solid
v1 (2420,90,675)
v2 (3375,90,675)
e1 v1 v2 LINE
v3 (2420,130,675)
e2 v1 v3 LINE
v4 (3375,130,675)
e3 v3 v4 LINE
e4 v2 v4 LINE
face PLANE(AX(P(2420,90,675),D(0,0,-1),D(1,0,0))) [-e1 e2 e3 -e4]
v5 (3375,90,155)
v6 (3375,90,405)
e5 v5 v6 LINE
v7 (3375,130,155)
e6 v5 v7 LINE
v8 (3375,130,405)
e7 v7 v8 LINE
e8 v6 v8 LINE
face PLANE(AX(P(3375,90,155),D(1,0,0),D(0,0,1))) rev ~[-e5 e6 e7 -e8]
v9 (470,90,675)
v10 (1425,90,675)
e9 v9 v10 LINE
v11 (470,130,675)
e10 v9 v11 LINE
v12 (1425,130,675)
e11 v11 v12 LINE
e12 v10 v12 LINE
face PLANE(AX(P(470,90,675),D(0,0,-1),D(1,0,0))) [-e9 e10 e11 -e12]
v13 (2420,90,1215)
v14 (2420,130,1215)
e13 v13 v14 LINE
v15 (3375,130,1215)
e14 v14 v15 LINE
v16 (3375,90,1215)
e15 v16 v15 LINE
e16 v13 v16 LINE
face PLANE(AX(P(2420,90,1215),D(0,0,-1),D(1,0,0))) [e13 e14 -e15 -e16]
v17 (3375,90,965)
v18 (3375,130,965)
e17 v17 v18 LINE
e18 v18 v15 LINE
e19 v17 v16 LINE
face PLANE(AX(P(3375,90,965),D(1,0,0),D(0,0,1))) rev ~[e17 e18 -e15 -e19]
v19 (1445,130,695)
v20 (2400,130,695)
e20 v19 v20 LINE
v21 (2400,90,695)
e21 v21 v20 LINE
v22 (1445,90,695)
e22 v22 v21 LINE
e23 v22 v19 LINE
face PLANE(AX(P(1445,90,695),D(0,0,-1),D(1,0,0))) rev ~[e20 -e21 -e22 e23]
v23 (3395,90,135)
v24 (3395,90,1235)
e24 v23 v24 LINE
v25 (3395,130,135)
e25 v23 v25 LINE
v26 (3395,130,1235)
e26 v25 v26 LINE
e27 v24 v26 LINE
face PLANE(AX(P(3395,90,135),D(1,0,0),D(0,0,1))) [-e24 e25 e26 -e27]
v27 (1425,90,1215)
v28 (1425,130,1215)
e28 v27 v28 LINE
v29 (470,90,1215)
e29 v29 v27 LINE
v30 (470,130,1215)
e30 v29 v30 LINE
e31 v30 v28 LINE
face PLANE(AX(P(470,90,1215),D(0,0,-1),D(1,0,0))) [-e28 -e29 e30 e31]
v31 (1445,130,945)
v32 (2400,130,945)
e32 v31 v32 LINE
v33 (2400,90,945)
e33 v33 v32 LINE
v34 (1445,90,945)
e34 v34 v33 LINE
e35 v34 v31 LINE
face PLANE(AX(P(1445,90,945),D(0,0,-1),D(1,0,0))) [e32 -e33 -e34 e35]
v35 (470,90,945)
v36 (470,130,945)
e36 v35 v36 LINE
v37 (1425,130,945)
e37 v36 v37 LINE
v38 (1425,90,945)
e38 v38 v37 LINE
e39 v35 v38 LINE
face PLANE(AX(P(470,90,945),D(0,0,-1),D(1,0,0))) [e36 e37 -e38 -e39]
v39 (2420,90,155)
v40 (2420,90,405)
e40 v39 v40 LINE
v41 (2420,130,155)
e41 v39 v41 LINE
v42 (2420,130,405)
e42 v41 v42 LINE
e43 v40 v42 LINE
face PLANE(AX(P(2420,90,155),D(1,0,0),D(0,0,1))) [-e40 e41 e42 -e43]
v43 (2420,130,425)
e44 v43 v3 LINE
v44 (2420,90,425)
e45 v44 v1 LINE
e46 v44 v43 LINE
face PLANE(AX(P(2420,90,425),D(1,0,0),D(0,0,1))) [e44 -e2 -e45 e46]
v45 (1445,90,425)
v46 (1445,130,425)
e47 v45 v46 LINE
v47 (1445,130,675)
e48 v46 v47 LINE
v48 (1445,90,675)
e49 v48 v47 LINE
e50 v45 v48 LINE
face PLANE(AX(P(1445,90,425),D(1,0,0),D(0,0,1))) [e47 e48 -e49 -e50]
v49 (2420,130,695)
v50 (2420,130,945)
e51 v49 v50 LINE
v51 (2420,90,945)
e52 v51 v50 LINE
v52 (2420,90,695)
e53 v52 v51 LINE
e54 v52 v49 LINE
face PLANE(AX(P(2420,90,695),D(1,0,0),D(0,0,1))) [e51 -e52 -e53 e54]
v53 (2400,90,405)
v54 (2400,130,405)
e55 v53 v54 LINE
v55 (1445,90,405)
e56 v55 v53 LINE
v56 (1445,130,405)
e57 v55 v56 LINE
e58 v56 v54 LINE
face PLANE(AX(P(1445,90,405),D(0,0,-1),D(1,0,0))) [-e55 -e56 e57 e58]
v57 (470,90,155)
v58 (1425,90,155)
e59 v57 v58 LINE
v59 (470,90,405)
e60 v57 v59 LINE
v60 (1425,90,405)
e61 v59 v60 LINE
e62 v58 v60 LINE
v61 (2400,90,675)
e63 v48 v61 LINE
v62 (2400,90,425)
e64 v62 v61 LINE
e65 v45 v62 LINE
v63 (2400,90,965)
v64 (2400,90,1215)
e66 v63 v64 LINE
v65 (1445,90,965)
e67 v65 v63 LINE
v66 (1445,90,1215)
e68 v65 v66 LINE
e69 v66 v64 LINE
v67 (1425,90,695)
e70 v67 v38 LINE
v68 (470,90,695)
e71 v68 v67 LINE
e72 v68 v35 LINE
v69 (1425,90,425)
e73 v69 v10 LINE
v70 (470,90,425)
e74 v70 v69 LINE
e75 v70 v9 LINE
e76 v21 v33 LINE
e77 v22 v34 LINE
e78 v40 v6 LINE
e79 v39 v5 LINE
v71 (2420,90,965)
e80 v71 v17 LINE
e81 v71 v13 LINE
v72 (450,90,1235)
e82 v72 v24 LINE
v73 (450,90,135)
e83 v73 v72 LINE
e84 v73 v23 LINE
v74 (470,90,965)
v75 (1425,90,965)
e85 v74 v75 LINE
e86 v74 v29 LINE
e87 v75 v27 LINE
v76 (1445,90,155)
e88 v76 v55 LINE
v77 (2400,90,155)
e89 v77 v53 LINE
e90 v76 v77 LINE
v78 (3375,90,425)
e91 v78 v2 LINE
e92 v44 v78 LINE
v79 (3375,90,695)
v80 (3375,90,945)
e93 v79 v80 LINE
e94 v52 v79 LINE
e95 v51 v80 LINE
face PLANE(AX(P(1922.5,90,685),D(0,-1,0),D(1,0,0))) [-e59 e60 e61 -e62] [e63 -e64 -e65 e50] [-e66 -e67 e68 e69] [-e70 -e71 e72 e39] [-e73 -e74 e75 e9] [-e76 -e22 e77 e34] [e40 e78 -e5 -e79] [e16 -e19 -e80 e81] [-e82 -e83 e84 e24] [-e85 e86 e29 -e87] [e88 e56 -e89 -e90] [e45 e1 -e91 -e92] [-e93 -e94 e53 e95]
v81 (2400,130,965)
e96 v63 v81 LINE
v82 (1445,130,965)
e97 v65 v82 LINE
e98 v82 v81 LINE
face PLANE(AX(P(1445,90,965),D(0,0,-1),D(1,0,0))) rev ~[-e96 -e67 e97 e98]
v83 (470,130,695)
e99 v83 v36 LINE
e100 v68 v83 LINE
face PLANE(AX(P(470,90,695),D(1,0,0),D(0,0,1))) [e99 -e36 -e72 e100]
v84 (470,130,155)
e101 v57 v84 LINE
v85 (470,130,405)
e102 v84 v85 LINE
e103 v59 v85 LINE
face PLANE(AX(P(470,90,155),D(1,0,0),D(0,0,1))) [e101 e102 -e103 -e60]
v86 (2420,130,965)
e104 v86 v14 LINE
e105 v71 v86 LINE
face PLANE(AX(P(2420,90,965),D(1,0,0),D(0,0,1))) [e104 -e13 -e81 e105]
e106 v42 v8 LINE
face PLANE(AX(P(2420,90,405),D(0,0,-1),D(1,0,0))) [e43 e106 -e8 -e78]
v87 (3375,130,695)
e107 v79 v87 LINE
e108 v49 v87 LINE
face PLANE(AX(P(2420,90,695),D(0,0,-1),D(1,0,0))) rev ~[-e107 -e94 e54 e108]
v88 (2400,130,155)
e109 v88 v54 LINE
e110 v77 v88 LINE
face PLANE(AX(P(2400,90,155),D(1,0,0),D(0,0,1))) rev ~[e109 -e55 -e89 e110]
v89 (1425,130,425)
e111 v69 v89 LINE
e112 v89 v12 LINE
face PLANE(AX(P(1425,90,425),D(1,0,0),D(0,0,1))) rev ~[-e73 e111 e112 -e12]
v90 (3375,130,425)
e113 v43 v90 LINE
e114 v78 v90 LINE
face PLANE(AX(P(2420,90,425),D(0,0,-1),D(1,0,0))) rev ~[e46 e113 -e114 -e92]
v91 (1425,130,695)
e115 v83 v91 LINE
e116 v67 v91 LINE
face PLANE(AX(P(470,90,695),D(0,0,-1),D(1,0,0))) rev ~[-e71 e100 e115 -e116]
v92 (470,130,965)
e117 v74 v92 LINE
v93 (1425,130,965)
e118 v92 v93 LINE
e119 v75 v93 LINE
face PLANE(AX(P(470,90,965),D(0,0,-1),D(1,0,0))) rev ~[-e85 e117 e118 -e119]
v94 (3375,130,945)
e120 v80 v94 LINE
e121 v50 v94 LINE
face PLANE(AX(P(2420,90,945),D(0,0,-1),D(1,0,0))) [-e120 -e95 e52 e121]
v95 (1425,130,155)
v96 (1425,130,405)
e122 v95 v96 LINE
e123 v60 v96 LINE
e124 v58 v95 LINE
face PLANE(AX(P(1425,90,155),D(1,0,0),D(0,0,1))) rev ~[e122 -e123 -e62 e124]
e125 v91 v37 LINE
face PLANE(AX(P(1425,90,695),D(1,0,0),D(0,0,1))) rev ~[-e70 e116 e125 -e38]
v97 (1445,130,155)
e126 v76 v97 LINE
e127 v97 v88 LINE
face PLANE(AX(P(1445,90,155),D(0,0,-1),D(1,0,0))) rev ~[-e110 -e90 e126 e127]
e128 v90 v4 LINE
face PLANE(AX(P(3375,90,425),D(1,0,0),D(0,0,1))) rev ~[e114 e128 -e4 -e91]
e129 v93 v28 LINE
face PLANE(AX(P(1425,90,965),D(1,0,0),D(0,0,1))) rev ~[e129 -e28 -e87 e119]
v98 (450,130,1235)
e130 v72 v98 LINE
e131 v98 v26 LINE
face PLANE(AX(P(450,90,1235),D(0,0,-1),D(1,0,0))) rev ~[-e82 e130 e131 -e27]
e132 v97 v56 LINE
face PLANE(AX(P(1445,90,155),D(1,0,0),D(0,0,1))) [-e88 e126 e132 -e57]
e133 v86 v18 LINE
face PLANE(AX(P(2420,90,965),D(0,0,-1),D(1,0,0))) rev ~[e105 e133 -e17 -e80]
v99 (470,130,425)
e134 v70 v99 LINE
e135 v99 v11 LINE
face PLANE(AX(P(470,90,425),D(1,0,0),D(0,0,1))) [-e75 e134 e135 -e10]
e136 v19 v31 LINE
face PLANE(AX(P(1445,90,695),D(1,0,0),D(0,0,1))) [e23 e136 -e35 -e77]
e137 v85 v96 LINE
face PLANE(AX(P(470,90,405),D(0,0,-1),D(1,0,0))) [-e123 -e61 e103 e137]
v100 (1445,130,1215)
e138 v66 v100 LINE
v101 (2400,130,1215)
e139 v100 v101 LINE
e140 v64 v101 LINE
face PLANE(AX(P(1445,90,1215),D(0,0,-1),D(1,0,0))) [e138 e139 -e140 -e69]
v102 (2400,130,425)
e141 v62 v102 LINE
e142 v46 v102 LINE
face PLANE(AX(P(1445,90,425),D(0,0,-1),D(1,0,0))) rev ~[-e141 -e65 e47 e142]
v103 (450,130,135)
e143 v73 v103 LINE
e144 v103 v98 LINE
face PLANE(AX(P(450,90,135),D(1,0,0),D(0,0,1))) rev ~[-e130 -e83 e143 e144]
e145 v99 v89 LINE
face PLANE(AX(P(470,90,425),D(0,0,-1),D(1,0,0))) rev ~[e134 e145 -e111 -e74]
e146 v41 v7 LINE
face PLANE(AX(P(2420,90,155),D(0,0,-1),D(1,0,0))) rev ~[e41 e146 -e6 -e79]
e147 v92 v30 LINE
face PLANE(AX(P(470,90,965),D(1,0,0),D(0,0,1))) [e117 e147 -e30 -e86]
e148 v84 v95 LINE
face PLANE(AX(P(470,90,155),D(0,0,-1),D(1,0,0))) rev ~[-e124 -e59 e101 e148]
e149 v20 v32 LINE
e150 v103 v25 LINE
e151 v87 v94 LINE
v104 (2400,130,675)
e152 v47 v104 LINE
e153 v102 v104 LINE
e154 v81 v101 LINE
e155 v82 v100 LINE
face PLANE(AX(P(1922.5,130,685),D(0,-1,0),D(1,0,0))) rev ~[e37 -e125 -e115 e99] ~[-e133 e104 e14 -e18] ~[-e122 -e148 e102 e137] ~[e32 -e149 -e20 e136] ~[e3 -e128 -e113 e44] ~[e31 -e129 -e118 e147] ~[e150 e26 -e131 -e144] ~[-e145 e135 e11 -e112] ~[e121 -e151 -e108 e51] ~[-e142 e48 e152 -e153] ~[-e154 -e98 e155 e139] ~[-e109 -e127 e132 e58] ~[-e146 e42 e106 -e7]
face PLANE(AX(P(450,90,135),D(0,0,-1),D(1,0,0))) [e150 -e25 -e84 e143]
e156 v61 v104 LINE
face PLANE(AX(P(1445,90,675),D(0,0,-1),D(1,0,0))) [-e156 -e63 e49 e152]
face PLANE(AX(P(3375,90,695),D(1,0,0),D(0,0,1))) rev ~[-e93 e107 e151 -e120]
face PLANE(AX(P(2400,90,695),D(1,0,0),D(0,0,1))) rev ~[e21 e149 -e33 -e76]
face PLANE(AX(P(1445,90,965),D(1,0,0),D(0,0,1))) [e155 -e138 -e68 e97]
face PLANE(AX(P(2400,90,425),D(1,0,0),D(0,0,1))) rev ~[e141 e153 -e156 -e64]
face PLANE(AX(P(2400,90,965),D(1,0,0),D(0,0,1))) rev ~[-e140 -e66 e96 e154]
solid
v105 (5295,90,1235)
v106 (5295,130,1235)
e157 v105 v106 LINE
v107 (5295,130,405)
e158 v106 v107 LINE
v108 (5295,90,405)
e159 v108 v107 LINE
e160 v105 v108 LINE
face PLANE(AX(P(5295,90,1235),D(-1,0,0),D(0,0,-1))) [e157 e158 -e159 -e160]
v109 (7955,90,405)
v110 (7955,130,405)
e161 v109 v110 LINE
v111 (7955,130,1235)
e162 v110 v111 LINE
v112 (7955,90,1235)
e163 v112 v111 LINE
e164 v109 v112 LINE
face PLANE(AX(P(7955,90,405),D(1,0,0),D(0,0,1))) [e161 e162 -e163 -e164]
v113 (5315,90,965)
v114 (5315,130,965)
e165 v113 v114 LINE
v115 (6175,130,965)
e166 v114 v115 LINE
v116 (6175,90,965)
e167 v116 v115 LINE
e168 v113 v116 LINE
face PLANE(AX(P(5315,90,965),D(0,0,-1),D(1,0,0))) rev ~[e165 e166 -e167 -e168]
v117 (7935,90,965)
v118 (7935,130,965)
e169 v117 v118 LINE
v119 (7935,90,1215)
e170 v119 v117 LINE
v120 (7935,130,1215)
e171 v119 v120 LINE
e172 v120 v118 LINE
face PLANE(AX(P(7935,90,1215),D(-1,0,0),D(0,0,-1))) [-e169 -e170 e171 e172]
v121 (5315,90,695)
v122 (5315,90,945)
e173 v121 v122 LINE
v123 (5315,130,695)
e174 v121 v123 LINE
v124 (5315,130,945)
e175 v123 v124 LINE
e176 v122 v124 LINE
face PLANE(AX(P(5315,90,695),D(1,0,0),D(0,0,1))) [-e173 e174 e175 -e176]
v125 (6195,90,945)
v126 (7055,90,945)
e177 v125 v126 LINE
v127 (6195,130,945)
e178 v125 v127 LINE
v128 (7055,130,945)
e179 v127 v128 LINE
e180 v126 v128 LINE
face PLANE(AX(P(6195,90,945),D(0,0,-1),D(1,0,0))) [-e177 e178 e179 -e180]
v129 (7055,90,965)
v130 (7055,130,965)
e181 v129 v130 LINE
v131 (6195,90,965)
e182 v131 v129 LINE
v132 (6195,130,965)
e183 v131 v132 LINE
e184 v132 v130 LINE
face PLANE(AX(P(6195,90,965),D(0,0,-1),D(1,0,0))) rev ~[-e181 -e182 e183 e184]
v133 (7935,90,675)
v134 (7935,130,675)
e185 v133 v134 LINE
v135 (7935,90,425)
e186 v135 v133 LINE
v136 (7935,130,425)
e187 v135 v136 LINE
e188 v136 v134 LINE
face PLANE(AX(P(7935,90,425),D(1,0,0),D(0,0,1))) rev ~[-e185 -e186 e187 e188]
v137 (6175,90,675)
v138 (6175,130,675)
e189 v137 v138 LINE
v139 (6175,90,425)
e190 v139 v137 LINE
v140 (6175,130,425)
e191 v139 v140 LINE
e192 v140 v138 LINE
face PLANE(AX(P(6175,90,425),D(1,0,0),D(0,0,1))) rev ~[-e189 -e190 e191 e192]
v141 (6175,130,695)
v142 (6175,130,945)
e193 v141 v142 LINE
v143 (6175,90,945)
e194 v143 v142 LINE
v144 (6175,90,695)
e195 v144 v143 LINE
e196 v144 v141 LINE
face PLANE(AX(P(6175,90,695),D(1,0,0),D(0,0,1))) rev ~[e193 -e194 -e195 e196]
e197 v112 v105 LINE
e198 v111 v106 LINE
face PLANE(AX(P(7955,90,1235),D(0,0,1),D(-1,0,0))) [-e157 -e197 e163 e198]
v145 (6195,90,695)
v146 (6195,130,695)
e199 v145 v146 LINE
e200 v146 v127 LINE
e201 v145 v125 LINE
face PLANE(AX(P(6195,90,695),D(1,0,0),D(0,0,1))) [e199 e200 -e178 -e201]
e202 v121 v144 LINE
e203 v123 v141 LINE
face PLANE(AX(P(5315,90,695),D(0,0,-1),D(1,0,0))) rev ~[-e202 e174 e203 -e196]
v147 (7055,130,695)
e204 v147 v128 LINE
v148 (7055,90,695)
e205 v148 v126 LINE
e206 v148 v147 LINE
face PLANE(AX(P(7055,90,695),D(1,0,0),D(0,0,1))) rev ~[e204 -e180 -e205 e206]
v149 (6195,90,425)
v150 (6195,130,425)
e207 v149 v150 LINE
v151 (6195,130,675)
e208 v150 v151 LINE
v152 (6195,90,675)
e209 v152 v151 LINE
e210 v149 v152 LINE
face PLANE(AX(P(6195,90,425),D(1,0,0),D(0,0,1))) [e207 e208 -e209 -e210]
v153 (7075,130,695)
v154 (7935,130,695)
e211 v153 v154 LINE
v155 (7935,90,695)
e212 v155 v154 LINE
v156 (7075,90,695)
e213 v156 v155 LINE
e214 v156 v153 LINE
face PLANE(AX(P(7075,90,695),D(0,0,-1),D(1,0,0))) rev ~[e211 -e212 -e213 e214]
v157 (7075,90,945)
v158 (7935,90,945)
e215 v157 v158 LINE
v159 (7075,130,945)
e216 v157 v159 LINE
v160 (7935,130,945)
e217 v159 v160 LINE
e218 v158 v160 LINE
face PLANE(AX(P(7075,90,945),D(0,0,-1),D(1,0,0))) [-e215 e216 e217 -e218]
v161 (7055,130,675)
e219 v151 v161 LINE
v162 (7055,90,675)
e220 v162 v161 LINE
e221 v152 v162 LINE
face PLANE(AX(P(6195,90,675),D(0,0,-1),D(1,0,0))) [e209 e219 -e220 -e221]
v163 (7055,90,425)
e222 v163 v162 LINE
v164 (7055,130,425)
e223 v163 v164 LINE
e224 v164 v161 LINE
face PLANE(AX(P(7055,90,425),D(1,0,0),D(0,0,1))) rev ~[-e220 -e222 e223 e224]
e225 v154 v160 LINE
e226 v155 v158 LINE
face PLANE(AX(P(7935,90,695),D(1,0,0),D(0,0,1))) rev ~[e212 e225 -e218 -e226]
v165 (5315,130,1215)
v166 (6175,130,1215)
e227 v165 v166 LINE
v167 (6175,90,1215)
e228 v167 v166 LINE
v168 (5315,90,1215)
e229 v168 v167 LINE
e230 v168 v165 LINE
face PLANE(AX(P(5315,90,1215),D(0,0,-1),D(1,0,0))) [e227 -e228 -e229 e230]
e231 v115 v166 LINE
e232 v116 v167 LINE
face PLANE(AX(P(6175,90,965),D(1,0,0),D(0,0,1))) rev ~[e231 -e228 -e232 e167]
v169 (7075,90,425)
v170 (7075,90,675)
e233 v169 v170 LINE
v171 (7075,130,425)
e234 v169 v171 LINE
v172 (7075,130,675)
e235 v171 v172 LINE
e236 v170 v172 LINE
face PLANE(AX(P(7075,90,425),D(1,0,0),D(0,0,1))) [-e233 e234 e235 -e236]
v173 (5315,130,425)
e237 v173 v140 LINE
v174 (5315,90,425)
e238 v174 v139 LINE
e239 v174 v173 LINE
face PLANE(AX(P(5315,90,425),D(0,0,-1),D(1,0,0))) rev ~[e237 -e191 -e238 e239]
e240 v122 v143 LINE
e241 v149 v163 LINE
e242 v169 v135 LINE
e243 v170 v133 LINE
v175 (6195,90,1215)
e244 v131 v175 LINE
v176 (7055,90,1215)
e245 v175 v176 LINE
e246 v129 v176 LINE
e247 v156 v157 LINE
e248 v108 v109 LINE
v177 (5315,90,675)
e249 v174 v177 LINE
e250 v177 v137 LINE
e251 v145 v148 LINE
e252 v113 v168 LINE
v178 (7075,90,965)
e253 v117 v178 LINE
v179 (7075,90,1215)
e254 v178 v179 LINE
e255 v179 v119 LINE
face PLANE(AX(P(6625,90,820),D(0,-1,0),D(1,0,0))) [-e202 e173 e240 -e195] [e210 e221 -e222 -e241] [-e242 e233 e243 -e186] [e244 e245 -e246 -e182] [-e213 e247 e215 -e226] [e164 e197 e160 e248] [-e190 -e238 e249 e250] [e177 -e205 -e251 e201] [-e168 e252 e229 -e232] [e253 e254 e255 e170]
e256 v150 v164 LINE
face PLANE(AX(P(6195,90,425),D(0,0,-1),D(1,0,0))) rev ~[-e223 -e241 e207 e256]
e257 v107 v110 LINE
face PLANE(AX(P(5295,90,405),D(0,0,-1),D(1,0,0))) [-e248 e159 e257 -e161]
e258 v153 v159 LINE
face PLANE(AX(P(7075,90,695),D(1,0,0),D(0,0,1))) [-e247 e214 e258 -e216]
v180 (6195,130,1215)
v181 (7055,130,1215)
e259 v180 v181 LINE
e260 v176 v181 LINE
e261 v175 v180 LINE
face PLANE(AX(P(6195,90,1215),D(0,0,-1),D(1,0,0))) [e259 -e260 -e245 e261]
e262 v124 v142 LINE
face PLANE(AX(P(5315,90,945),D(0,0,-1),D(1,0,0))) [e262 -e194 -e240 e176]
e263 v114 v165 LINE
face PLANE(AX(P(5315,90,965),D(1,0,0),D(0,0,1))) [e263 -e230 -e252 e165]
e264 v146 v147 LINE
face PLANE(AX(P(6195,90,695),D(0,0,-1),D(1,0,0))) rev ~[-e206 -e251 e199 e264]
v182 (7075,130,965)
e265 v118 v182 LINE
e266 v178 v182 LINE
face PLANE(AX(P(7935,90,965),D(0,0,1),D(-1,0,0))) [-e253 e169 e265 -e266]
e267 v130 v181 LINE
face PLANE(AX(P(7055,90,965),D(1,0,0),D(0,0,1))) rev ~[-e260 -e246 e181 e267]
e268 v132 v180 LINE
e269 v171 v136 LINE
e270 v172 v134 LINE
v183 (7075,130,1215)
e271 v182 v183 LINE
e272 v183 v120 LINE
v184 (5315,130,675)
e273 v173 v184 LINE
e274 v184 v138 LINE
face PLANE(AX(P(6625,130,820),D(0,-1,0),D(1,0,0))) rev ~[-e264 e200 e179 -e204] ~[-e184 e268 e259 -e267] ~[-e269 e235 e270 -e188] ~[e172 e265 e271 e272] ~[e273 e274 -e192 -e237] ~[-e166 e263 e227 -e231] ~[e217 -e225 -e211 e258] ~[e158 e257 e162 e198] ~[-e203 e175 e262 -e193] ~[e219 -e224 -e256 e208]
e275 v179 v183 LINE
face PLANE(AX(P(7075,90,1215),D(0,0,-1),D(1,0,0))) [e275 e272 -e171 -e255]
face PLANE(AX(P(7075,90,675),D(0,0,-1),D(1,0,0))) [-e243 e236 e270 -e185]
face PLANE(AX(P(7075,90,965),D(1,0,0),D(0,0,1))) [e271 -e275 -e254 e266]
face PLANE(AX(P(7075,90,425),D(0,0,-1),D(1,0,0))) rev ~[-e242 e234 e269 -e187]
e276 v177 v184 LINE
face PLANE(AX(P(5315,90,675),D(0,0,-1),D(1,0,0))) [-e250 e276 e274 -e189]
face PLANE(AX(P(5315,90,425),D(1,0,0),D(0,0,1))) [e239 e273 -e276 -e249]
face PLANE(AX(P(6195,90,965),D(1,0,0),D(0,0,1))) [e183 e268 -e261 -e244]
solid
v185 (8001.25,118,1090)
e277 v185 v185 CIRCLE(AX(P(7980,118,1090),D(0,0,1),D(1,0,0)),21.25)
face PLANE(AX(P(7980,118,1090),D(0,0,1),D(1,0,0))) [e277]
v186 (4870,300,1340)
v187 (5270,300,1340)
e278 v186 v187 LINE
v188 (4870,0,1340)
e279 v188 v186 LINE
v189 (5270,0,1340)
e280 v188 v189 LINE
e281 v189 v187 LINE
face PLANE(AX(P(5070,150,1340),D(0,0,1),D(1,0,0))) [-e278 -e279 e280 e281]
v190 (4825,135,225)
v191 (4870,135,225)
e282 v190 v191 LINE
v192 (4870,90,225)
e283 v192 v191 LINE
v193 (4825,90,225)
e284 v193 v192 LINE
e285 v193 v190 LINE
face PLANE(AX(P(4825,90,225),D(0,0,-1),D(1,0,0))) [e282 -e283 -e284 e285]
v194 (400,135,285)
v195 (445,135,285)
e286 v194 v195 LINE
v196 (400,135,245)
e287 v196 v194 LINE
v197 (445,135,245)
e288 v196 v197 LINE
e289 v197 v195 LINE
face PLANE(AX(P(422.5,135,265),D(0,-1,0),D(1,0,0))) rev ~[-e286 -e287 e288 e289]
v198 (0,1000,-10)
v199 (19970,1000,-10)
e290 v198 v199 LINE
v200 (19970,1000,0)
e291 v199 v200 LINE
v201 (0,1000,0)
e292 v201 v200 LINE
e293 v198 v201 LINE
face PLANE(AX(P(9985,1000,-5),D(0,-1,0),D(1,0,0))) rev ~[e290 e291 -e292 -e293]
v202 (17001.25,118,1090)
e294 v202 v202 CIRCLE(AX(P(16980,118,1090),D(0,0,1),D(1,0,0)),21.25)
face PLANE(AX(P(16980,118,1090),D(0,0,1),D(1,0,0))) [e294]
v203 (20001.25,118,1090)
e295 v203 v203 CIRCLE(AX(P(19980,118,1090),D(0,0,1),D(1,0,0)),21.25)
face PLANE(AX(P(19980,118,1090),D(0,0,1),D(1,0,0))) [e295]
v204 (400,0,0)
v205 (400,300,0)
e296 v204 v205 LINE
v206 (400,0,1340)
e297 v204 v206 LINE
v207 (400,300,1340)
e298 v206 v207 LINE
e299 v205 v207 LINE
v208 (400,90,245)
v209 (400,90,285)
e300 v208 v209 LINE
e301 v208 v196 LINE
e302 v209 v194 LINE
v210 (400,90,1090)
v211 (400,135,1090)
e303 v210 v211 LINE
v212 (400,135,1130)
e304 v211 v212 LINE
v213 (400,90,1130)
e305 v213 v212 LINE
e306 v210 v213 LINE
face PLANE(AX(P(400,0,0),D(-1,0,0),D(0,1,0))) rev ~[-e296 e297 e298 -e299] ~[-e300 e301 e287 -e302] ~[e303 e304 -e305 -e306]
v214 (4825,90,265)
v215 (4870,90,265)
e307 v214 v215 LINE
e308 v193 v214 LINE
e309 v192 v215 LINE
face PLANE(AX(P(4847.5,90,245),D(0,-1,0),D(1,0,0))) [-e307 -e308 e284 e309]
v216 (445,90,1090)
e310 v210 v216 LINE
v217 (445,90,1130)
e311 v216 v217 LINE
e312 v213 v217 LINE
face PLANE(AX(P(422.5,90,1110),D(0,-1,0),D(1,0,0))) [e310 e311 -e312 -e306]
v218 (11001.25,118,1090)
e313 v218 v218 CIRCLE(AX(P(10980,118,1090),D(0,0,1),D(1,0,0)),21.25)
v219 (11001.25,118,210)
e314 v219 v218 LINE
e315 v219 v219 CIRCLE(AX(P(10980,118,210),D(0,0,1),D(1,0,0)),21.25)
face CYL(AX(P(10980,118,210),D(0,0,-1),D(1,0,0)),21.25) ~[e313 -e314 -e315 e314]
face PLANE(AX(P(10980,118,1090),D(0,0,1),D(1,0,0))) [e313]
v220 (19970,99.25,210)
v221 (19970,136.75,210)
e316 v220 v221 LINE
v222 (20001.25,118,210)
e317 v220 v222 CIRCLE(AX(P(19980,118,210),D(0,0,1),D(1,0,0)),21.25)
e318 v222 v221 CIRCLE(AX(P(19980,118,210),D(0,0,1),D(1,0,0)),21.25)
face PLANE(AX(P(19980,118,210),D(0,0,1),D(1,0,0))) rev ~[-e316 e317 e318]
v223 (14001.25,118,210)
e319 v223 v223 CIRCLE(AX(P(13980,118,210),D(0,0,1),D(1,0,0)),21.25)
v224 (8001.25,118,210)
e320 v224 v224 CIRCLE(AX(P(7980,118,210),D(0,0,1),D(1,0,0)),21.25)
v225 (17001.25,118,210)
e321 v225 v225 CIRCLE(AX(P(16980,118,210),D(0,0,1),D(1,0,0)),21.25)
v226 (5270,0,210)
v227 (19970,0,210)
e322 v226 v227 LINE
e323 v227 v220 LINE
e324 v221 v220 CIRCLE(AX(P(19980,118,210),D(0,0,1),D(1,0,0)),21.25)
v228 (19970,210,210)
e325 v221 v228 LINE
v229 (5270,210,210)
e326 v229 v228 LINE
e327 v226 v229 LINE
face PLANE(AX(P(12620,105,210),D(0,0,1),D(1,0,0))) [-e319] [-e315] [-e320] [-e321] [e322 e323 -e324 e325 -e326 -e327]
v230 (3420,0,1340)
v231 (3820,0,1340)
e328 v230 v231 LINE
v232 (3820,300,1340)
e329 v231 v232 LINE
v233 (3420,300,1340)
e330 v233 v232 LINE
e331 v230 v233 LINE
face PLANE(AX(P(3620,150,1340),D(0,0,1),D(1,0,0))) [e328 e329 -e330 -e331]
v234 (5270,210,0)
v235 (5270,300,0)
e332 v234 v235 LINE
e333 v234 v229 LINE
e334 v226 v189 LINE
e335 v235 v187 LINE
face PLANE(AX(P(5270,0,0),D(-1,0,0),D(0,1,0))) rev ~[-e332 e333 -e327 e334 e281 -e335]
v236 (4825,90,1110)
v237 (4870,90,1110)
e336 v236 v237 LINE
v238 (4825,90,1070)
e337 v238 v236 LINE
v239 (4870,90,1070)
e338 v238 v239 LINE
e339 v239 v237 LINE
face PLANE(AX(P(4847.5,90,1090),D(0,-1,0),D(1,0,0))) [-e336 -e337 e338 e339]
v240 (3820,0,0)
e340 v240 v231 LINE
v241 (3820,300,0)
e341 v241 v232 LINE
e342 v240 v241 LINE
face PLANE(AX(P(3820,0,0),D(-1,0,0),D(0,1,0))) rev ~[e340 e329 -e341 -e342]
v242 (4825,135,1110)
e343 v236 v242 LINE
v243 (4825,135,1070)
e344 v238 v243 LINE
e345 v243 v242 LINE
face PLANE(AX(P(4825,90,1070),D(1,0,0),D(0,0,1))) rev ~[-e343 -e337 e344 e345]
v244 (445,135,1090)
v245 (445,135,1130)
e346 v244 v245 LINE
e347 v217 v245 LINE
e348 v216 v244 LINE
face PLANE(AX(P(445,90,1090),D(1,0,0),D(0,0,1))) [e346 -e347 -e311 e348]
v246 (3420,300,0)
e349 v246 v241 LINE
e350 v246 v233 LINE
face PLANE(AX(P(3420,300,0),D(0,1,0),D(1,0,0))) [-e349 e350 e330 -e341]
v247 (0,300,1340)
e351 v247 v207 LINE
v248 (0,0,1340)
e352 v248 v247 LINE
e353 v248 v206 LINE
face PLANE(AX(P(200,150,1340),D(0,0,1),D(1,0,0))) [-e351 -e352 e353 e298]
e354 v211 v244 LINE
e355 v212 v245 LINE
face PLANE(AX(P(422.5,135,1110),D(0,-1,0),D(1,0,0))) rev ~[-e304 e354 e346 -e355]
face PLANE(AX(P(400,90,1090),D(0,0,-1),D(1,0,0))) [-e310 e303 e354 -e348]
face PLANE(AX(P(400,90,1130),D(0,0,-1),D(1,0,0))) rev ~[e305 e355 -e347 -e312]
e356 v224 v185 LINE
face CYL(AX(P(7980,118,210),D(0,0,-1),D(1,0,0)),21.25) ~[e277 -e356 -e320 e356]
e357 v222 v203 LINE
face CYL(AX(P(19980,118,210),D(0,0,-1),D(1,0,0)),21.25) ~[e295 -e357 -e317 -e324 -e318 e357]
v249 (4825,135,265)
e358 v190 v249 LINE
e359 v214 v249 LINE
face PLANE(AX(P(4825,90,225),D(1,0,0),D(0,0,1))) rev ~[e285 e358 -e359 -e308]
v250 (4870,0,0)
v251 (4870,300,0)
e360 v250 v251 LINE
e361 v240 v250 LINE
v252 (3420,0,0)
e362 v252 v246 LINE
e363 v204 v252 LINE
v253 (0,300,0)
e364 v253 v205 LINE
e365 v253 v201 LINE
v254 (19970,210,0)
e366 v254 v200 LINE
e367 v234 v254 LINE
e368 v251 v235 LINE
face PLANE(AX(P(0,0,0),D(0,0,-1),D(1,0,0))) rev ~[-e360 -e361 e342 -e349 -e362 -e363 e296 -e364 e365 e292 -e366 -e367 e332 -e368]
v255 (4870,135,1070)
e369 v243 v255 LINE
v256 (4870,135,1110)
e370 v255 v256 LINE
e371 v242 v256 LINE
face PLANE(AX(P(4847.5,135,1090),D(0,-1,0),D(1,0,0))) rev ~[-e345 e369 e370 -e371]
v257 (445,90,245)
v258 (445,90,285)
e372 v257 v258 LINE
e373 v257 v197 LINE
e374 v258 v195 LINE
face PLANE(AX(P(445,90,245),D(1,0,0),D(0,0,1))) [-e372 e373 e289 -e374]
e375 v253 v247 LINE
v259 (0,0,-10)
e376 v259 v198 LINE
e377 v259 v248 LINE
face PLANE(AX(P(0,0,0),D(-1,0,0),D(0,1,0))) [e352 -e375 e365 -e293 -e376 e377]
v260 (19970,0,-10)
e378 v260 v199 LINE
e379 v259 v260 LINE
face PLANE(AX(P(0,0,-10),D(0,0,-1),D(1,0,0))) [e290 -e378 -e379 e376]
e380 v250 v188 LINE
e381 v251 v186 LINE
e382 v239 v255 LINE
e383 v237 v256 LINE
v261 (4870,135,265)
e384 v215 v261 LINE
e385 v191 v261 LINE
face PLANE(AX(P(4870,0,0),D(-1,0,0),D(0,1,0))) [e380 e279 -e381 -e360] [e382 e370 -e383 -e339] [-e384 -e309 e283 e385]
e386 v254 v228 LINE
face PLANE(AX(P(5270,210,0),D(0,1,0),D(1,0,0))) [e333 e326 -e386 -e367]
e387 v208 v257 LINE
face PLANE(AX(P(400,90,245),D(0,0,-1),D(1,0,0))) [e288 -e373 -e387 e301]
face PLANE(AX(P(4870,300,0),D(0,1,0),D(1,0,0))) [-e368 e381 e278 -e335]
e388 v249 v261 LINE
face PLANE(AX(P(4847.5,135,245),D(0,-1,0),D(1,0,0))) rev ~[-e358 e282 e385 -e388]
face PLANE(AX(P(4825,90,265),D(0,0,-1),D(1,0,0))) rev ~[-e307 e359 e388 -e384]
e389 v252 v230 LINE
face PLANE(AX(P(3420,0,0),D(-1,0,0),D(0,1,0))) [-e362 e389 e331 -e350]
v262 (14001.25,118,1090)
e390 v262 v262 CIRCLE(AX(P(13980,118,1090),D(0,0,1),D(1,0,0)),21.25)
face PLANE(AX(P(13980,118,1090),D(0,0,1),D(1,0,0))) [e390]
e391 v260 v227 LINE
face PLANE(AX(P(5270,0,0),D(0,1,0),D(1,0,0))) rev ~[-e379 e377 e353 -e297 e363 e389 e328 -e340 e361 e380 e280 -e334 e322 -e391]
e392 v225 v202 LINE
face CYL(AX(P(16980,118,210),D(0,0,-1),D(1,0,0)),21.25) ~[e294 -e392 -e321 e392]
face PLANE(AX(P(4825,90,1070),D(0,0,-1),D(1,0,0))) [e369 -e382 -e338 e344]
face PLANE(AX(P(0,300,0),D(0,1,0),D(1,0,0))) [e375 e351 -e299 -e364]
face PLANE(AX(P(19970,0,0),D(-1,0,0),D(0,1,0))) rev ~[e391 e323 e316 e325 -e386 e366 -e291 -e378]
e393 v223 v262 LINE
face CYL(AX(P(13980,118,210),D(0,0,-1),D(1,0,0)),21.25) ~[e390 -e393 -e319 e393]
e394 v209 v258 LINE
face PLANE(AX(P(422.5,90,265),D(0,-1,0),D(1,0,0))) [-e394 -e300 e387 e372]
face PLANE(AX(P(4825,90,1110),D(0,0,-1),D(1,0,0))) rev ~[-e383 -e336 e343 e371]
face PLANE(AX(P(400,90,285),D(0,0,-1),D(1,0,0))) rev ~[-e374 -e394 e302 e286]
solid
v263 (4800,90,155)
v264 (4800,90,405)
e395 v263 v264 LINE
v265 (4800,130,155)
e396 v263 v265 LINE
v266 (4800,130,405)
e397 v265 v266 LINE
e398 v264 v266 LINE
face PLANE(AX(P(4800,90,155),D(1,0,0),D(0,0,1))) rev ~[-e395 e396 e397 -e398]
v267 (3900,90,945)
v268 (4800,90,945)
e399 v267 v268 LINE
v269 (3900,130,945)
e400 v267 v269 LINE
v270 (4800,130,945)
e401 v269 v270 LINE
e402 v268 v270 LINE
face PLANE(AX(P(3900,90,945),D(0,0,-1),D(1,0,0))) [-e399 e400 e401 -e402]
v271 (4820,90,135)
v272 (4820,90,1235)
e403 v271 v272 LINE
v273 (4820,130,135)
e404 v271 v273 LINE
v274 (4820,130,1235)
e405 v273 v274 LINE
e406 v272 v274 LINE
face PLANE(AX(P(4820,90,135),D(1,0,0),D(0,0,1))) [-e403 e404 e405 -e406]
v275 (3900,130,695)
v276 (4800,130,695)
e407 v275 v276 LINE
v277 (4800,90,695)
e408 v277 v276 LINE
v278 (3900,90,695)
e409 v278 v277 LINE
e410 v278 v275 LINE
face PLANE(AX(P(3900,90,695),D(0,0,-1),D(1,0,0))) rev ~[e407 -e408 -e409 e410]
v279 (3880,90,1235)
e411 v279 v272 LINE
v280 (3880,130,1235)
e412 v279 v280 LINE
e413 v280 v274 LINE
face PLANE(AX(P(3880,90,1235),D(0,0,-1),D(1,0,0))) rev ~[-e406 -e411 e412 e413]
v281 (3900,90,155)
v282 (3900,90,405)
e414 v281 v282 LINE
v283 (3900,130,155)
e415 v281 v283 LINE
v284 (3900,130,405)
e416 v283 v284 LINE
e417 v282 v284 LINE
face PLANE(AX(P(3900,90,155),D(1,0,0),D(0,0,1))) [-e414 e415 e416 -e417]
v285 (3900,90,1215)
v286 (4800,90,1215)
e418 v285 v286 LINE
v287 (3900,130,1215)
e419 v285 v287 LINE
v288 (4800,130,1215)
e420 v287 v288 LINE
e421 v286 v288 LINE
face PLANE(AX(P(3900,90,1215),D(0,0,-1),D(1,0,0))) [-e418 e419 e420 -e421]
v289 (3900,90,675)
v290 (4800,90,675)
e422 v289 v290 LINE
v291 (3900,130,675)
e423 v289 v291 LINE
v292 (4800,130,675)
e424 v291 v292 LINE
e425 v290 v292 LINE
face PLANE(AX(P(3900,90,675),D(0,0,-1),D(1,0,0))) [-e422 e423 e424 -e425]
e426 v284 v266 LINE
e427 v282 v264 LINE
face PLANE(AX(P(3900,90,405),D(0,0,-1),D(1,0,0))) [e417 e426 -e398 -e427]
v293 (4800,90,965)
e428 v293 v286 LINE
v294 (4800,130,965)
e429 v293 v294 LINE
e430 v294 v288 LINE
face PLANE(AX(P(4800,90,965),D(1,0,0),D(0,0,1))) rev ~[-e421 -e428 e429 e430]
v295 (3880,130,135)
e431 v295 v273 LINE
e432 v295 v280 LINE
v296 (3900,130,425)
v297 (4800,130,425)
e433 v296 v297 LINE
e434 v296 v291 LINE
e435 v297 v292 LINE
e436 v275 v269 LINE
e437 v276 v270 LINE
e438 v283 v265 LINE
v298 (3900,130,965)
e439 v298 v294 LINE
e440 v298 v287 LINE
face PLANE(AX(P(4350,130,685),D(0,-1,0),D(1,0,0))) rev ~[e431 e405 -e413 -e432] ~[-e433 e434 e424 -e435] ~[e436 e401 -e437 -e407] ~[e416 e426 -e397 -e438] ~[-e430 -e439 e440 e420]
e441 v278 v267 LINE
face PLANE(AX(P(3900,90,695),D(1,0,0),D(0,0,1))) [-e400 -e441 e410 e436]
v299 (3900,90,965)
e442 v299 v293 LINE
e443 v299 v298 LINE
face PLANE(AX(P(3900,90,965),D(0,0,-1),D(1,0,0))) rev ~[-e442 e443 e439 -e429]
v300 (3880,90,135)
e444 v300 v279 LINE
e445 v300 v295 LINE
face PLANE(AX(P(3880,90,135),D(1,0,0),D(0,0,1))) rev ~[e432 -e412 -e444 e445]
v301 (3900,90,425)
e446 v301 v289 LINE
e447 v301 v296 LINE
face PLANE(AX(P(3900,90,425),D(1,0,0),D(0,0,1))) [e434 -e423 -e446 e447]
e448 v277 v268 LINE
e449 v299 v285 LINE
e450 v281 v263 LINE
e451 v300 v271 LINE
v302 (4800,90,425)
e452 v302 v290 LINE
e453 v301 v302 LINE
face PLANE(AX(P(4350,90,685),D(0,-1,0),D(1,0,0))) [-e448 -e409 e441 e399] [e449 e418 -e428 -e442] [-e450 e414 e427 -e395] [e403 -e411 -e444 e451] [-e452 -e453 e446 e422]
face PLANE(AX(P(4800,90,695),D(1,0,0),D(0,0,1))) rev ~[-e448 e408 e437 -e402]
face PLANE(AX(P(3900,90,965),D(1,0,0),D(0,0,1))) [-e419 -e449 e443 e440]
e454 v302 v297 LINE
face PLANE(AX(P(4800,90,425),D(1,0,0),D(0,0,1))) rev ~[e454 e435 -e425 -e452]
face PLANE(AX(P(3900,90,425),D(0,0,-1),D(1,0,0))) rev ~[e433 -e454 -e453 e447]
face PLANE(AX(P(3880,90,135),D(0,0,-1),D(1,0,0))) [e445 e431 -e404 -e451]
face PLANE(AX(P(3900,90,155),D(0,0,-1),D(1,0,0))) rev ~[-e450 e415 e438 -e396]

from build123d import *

# Parameters (mm, degrees)
F0_W      = 19970
F0_H      = 10
F1_DEPTH  = 1000
F2_W      = 400
F2_H      = 300
F3_DEPTH  = 1340
F5_W      = 14700
F5_H      = 210
F6_DEPTH  = 210
F7_R      = 21.25
F8_DEPTH  = 880
F10_W     = 2945
F10_H     = 1100
F10_W_2   = 955
F10_H_2   = 250
F10_W_3   = 940
F10_W_4   = 900
F11_DEPTH = 40
F12_W     = 45
F12_H     = 40
F13_DEPTH = 45
F14_W     = 860
F14_H     = 250
F15_DEPTH = 40


with BuildPart() as f1:
    # F0 (on Front) → F1 (new body)
    with BuildSketch(Plane.XZ):
        with Locations((9985, -5)):
            Rectangle(F0_W, F0_H)
    extrude(amount=-F1_DEPTH)

    # F2 (on face) → F3 (join)
    with BuildSketch(Plane.XY):
        with Locations((200, 150)):
            Rectangle(F2_W, F2_H)
        with Locations((3620, 150)):
            Rectangle(F2_W, F2_H)
        with Locations((5070, 150)):
            Rectangle(F2_W, F2_H)
    extrude(amount=F3_DEPTH)

    # F5 (on face) → F6 (join)
    with BuildSketch(Plane.XY):
        with Locations((12620, 105)):
            Rectangle(F5_W, F5_H)
    extrude(amount=F6_DEPTH)

    # F7 (on face) → F8 (join)
    with BuildSketch(Plane.XY.offset(210)):
        with Locations((7980, 118)):
            Circle(F7_R)
        with Locations((10980, 118)):
            Circle(F7_R)
        with Locations((13980, 118)):
            Circle(F7_R)
        with Locations((16980, 118)):
            Circle(F7_R)
        with Locations((19980, 118)):
            Circle(F7_R)
    extrude(amount=F8_DEPTH)

    # F12 (on offset) → F13 (join)
    with BuildSketch(Plane.XZ.offset(-90)):
        with Locations((422.5, 1110)):
            Rectangle(F12_W, F12_H)
        with Locations((422.5, 265)):
            Rectangle(F12_W, F12_H)
        with Locations((4847.5, 1090)):
            Rectangle(F12_W, F12_H)
        with Locations((4847.5, 245)):
            Rectangle(F12_W, F12_H)
    extrude(amount=-F13_DEPTH)


with BuildPart() as f11:
    # F10 (on offset) → F11 (new body)
    with BuildSketch(Plane.XZ.offset(-90)):
        with Locations((1922.5, 685)):
            Rectangle(F10_W, F10_H)
        with Locations((947.5, 280)):
            Rectangle(F10_W_2, F10_H_2, mode=Mode.SUBTRACT)
        with Locations((1922.5, 280)):
            Rectangle(F10_W_2, F10_H_2, mode=Mode.SUBTRACT)
        with Locations((947.5, 550)):
            Rectangle(F10_W_2, F10_H_2, mode=Mode.SUBTRACT)
        with Locations((1922.5, 550)):
            Rectangle(F10_W_2, F10_H_2, mode=Mode.SUBTRACT)
        with Locations((2897.5, 280)):
            Rectangle(F10_W_2, F10_H_2, mode=Mode.SUBTRACT)
        with Locations((2897.5, 550)):
            Rectangle(F10_W_2, F10_H_2, mode=Mode.SUBTRACT)
        with Locations((947.5, 820)):
            Rectangle(F10_W_2, F10_H_2, mode=Mode.SUBTRACT)
        with Locations((1922.5, 820)):
            Rectangle(F10_W_2, F10_H_2, mode=Mode.SUBTRACT)
        with Locations((947.5, 1090)):
            Rectangle(F10_W_2, F10_H_2, mode=Mode.SUBTRACT)
        with Locations((1922.5, 1090)):
            Rectangle(F10_W_2, F10_H_2, mode=Mode.SUBTRACT)
        with Locations((2897.5, 820)):
            Rectangle(F10_W_2, F10_H_2, mode=Mode.SUBTRACT)
        with Locations((2897.5, 1090)):
            Rectangle(F10_W_2, F10_H_2, mode=Mode.SUBTRACT)
        with Locations((4350, 685)):
            Rectangle(F10_W_3, F10_H)
        with Locations((4350, 280)):
            Rectangle(F10_W_4, F10_H_2, mode=Mode.SUBTRACT)
        with Locations((4350, 550)):
            Rectangle(F10_W_4, F10_H_2, mode=Mode.SUBTRACT)
        with Locations((4350, 820)):
            Rectangle(F10_W_4, F10_H_2, mode=Mode.SUBTRACT)
        with Locations((4350, 1090)):
            Rectangle(F10_W_4, F10_H_2, mode=Mode.SUBTRACT)
    extrude(amount=-F11_DEPTH)


with BuildPart() as f15:
    # F14 (on offset) → F15 (new body)
    with BuildSketch(Plane.XZ.offset(-90)):
        Polygon((7955, 1235), (5295, 1235), (5295, 405), (5703.985691, 405), (7955, 405), align=None)
        with Locations((5745, 550)):
            Rectangle(F14_W, F14_H, mode=Mode.SUBTRACT)
        with Locations((6625, 550)):
            Rectangle(F14_W, F14_H, mode=Mode.SUBTRACT)
        with Locations((7505, 550)):
            Rectangle(F14_W, F14_H, mode=Mode.SUBTRACT)
        with Locations((5745, 820)):
            Rectangle(F14_W, F14_H, mode=Mode.SUBTRACT)
        with Locations((5745, 1090)):
            Rectangle(F14_W, F14_H, mode=Mode.SUBTRACT)
        with Locations((6625, 820)):
            Rectangle(F14_W, F14_H, mode=Mode.SUBTRACT)
        with Locations((7505, 820)):
            Rectangle(F14_W, F14_H, mode=Mode.SUBTRACT)
        with Locations((6625, 1090)):
            Rectangle(F14_W, F14_H, mode=Mode.SUBTRACT)
        Polygon((7415, 1215), (7935, 1215), (7935, 965), (7075, 965), (7075, 1215), (7395, 1215), align=None, mode=Mode.SUBTRACT)
    extrude(amount=-F15_DEPTH)


solid = Compound([f1.part, f11.part, f15.part])
